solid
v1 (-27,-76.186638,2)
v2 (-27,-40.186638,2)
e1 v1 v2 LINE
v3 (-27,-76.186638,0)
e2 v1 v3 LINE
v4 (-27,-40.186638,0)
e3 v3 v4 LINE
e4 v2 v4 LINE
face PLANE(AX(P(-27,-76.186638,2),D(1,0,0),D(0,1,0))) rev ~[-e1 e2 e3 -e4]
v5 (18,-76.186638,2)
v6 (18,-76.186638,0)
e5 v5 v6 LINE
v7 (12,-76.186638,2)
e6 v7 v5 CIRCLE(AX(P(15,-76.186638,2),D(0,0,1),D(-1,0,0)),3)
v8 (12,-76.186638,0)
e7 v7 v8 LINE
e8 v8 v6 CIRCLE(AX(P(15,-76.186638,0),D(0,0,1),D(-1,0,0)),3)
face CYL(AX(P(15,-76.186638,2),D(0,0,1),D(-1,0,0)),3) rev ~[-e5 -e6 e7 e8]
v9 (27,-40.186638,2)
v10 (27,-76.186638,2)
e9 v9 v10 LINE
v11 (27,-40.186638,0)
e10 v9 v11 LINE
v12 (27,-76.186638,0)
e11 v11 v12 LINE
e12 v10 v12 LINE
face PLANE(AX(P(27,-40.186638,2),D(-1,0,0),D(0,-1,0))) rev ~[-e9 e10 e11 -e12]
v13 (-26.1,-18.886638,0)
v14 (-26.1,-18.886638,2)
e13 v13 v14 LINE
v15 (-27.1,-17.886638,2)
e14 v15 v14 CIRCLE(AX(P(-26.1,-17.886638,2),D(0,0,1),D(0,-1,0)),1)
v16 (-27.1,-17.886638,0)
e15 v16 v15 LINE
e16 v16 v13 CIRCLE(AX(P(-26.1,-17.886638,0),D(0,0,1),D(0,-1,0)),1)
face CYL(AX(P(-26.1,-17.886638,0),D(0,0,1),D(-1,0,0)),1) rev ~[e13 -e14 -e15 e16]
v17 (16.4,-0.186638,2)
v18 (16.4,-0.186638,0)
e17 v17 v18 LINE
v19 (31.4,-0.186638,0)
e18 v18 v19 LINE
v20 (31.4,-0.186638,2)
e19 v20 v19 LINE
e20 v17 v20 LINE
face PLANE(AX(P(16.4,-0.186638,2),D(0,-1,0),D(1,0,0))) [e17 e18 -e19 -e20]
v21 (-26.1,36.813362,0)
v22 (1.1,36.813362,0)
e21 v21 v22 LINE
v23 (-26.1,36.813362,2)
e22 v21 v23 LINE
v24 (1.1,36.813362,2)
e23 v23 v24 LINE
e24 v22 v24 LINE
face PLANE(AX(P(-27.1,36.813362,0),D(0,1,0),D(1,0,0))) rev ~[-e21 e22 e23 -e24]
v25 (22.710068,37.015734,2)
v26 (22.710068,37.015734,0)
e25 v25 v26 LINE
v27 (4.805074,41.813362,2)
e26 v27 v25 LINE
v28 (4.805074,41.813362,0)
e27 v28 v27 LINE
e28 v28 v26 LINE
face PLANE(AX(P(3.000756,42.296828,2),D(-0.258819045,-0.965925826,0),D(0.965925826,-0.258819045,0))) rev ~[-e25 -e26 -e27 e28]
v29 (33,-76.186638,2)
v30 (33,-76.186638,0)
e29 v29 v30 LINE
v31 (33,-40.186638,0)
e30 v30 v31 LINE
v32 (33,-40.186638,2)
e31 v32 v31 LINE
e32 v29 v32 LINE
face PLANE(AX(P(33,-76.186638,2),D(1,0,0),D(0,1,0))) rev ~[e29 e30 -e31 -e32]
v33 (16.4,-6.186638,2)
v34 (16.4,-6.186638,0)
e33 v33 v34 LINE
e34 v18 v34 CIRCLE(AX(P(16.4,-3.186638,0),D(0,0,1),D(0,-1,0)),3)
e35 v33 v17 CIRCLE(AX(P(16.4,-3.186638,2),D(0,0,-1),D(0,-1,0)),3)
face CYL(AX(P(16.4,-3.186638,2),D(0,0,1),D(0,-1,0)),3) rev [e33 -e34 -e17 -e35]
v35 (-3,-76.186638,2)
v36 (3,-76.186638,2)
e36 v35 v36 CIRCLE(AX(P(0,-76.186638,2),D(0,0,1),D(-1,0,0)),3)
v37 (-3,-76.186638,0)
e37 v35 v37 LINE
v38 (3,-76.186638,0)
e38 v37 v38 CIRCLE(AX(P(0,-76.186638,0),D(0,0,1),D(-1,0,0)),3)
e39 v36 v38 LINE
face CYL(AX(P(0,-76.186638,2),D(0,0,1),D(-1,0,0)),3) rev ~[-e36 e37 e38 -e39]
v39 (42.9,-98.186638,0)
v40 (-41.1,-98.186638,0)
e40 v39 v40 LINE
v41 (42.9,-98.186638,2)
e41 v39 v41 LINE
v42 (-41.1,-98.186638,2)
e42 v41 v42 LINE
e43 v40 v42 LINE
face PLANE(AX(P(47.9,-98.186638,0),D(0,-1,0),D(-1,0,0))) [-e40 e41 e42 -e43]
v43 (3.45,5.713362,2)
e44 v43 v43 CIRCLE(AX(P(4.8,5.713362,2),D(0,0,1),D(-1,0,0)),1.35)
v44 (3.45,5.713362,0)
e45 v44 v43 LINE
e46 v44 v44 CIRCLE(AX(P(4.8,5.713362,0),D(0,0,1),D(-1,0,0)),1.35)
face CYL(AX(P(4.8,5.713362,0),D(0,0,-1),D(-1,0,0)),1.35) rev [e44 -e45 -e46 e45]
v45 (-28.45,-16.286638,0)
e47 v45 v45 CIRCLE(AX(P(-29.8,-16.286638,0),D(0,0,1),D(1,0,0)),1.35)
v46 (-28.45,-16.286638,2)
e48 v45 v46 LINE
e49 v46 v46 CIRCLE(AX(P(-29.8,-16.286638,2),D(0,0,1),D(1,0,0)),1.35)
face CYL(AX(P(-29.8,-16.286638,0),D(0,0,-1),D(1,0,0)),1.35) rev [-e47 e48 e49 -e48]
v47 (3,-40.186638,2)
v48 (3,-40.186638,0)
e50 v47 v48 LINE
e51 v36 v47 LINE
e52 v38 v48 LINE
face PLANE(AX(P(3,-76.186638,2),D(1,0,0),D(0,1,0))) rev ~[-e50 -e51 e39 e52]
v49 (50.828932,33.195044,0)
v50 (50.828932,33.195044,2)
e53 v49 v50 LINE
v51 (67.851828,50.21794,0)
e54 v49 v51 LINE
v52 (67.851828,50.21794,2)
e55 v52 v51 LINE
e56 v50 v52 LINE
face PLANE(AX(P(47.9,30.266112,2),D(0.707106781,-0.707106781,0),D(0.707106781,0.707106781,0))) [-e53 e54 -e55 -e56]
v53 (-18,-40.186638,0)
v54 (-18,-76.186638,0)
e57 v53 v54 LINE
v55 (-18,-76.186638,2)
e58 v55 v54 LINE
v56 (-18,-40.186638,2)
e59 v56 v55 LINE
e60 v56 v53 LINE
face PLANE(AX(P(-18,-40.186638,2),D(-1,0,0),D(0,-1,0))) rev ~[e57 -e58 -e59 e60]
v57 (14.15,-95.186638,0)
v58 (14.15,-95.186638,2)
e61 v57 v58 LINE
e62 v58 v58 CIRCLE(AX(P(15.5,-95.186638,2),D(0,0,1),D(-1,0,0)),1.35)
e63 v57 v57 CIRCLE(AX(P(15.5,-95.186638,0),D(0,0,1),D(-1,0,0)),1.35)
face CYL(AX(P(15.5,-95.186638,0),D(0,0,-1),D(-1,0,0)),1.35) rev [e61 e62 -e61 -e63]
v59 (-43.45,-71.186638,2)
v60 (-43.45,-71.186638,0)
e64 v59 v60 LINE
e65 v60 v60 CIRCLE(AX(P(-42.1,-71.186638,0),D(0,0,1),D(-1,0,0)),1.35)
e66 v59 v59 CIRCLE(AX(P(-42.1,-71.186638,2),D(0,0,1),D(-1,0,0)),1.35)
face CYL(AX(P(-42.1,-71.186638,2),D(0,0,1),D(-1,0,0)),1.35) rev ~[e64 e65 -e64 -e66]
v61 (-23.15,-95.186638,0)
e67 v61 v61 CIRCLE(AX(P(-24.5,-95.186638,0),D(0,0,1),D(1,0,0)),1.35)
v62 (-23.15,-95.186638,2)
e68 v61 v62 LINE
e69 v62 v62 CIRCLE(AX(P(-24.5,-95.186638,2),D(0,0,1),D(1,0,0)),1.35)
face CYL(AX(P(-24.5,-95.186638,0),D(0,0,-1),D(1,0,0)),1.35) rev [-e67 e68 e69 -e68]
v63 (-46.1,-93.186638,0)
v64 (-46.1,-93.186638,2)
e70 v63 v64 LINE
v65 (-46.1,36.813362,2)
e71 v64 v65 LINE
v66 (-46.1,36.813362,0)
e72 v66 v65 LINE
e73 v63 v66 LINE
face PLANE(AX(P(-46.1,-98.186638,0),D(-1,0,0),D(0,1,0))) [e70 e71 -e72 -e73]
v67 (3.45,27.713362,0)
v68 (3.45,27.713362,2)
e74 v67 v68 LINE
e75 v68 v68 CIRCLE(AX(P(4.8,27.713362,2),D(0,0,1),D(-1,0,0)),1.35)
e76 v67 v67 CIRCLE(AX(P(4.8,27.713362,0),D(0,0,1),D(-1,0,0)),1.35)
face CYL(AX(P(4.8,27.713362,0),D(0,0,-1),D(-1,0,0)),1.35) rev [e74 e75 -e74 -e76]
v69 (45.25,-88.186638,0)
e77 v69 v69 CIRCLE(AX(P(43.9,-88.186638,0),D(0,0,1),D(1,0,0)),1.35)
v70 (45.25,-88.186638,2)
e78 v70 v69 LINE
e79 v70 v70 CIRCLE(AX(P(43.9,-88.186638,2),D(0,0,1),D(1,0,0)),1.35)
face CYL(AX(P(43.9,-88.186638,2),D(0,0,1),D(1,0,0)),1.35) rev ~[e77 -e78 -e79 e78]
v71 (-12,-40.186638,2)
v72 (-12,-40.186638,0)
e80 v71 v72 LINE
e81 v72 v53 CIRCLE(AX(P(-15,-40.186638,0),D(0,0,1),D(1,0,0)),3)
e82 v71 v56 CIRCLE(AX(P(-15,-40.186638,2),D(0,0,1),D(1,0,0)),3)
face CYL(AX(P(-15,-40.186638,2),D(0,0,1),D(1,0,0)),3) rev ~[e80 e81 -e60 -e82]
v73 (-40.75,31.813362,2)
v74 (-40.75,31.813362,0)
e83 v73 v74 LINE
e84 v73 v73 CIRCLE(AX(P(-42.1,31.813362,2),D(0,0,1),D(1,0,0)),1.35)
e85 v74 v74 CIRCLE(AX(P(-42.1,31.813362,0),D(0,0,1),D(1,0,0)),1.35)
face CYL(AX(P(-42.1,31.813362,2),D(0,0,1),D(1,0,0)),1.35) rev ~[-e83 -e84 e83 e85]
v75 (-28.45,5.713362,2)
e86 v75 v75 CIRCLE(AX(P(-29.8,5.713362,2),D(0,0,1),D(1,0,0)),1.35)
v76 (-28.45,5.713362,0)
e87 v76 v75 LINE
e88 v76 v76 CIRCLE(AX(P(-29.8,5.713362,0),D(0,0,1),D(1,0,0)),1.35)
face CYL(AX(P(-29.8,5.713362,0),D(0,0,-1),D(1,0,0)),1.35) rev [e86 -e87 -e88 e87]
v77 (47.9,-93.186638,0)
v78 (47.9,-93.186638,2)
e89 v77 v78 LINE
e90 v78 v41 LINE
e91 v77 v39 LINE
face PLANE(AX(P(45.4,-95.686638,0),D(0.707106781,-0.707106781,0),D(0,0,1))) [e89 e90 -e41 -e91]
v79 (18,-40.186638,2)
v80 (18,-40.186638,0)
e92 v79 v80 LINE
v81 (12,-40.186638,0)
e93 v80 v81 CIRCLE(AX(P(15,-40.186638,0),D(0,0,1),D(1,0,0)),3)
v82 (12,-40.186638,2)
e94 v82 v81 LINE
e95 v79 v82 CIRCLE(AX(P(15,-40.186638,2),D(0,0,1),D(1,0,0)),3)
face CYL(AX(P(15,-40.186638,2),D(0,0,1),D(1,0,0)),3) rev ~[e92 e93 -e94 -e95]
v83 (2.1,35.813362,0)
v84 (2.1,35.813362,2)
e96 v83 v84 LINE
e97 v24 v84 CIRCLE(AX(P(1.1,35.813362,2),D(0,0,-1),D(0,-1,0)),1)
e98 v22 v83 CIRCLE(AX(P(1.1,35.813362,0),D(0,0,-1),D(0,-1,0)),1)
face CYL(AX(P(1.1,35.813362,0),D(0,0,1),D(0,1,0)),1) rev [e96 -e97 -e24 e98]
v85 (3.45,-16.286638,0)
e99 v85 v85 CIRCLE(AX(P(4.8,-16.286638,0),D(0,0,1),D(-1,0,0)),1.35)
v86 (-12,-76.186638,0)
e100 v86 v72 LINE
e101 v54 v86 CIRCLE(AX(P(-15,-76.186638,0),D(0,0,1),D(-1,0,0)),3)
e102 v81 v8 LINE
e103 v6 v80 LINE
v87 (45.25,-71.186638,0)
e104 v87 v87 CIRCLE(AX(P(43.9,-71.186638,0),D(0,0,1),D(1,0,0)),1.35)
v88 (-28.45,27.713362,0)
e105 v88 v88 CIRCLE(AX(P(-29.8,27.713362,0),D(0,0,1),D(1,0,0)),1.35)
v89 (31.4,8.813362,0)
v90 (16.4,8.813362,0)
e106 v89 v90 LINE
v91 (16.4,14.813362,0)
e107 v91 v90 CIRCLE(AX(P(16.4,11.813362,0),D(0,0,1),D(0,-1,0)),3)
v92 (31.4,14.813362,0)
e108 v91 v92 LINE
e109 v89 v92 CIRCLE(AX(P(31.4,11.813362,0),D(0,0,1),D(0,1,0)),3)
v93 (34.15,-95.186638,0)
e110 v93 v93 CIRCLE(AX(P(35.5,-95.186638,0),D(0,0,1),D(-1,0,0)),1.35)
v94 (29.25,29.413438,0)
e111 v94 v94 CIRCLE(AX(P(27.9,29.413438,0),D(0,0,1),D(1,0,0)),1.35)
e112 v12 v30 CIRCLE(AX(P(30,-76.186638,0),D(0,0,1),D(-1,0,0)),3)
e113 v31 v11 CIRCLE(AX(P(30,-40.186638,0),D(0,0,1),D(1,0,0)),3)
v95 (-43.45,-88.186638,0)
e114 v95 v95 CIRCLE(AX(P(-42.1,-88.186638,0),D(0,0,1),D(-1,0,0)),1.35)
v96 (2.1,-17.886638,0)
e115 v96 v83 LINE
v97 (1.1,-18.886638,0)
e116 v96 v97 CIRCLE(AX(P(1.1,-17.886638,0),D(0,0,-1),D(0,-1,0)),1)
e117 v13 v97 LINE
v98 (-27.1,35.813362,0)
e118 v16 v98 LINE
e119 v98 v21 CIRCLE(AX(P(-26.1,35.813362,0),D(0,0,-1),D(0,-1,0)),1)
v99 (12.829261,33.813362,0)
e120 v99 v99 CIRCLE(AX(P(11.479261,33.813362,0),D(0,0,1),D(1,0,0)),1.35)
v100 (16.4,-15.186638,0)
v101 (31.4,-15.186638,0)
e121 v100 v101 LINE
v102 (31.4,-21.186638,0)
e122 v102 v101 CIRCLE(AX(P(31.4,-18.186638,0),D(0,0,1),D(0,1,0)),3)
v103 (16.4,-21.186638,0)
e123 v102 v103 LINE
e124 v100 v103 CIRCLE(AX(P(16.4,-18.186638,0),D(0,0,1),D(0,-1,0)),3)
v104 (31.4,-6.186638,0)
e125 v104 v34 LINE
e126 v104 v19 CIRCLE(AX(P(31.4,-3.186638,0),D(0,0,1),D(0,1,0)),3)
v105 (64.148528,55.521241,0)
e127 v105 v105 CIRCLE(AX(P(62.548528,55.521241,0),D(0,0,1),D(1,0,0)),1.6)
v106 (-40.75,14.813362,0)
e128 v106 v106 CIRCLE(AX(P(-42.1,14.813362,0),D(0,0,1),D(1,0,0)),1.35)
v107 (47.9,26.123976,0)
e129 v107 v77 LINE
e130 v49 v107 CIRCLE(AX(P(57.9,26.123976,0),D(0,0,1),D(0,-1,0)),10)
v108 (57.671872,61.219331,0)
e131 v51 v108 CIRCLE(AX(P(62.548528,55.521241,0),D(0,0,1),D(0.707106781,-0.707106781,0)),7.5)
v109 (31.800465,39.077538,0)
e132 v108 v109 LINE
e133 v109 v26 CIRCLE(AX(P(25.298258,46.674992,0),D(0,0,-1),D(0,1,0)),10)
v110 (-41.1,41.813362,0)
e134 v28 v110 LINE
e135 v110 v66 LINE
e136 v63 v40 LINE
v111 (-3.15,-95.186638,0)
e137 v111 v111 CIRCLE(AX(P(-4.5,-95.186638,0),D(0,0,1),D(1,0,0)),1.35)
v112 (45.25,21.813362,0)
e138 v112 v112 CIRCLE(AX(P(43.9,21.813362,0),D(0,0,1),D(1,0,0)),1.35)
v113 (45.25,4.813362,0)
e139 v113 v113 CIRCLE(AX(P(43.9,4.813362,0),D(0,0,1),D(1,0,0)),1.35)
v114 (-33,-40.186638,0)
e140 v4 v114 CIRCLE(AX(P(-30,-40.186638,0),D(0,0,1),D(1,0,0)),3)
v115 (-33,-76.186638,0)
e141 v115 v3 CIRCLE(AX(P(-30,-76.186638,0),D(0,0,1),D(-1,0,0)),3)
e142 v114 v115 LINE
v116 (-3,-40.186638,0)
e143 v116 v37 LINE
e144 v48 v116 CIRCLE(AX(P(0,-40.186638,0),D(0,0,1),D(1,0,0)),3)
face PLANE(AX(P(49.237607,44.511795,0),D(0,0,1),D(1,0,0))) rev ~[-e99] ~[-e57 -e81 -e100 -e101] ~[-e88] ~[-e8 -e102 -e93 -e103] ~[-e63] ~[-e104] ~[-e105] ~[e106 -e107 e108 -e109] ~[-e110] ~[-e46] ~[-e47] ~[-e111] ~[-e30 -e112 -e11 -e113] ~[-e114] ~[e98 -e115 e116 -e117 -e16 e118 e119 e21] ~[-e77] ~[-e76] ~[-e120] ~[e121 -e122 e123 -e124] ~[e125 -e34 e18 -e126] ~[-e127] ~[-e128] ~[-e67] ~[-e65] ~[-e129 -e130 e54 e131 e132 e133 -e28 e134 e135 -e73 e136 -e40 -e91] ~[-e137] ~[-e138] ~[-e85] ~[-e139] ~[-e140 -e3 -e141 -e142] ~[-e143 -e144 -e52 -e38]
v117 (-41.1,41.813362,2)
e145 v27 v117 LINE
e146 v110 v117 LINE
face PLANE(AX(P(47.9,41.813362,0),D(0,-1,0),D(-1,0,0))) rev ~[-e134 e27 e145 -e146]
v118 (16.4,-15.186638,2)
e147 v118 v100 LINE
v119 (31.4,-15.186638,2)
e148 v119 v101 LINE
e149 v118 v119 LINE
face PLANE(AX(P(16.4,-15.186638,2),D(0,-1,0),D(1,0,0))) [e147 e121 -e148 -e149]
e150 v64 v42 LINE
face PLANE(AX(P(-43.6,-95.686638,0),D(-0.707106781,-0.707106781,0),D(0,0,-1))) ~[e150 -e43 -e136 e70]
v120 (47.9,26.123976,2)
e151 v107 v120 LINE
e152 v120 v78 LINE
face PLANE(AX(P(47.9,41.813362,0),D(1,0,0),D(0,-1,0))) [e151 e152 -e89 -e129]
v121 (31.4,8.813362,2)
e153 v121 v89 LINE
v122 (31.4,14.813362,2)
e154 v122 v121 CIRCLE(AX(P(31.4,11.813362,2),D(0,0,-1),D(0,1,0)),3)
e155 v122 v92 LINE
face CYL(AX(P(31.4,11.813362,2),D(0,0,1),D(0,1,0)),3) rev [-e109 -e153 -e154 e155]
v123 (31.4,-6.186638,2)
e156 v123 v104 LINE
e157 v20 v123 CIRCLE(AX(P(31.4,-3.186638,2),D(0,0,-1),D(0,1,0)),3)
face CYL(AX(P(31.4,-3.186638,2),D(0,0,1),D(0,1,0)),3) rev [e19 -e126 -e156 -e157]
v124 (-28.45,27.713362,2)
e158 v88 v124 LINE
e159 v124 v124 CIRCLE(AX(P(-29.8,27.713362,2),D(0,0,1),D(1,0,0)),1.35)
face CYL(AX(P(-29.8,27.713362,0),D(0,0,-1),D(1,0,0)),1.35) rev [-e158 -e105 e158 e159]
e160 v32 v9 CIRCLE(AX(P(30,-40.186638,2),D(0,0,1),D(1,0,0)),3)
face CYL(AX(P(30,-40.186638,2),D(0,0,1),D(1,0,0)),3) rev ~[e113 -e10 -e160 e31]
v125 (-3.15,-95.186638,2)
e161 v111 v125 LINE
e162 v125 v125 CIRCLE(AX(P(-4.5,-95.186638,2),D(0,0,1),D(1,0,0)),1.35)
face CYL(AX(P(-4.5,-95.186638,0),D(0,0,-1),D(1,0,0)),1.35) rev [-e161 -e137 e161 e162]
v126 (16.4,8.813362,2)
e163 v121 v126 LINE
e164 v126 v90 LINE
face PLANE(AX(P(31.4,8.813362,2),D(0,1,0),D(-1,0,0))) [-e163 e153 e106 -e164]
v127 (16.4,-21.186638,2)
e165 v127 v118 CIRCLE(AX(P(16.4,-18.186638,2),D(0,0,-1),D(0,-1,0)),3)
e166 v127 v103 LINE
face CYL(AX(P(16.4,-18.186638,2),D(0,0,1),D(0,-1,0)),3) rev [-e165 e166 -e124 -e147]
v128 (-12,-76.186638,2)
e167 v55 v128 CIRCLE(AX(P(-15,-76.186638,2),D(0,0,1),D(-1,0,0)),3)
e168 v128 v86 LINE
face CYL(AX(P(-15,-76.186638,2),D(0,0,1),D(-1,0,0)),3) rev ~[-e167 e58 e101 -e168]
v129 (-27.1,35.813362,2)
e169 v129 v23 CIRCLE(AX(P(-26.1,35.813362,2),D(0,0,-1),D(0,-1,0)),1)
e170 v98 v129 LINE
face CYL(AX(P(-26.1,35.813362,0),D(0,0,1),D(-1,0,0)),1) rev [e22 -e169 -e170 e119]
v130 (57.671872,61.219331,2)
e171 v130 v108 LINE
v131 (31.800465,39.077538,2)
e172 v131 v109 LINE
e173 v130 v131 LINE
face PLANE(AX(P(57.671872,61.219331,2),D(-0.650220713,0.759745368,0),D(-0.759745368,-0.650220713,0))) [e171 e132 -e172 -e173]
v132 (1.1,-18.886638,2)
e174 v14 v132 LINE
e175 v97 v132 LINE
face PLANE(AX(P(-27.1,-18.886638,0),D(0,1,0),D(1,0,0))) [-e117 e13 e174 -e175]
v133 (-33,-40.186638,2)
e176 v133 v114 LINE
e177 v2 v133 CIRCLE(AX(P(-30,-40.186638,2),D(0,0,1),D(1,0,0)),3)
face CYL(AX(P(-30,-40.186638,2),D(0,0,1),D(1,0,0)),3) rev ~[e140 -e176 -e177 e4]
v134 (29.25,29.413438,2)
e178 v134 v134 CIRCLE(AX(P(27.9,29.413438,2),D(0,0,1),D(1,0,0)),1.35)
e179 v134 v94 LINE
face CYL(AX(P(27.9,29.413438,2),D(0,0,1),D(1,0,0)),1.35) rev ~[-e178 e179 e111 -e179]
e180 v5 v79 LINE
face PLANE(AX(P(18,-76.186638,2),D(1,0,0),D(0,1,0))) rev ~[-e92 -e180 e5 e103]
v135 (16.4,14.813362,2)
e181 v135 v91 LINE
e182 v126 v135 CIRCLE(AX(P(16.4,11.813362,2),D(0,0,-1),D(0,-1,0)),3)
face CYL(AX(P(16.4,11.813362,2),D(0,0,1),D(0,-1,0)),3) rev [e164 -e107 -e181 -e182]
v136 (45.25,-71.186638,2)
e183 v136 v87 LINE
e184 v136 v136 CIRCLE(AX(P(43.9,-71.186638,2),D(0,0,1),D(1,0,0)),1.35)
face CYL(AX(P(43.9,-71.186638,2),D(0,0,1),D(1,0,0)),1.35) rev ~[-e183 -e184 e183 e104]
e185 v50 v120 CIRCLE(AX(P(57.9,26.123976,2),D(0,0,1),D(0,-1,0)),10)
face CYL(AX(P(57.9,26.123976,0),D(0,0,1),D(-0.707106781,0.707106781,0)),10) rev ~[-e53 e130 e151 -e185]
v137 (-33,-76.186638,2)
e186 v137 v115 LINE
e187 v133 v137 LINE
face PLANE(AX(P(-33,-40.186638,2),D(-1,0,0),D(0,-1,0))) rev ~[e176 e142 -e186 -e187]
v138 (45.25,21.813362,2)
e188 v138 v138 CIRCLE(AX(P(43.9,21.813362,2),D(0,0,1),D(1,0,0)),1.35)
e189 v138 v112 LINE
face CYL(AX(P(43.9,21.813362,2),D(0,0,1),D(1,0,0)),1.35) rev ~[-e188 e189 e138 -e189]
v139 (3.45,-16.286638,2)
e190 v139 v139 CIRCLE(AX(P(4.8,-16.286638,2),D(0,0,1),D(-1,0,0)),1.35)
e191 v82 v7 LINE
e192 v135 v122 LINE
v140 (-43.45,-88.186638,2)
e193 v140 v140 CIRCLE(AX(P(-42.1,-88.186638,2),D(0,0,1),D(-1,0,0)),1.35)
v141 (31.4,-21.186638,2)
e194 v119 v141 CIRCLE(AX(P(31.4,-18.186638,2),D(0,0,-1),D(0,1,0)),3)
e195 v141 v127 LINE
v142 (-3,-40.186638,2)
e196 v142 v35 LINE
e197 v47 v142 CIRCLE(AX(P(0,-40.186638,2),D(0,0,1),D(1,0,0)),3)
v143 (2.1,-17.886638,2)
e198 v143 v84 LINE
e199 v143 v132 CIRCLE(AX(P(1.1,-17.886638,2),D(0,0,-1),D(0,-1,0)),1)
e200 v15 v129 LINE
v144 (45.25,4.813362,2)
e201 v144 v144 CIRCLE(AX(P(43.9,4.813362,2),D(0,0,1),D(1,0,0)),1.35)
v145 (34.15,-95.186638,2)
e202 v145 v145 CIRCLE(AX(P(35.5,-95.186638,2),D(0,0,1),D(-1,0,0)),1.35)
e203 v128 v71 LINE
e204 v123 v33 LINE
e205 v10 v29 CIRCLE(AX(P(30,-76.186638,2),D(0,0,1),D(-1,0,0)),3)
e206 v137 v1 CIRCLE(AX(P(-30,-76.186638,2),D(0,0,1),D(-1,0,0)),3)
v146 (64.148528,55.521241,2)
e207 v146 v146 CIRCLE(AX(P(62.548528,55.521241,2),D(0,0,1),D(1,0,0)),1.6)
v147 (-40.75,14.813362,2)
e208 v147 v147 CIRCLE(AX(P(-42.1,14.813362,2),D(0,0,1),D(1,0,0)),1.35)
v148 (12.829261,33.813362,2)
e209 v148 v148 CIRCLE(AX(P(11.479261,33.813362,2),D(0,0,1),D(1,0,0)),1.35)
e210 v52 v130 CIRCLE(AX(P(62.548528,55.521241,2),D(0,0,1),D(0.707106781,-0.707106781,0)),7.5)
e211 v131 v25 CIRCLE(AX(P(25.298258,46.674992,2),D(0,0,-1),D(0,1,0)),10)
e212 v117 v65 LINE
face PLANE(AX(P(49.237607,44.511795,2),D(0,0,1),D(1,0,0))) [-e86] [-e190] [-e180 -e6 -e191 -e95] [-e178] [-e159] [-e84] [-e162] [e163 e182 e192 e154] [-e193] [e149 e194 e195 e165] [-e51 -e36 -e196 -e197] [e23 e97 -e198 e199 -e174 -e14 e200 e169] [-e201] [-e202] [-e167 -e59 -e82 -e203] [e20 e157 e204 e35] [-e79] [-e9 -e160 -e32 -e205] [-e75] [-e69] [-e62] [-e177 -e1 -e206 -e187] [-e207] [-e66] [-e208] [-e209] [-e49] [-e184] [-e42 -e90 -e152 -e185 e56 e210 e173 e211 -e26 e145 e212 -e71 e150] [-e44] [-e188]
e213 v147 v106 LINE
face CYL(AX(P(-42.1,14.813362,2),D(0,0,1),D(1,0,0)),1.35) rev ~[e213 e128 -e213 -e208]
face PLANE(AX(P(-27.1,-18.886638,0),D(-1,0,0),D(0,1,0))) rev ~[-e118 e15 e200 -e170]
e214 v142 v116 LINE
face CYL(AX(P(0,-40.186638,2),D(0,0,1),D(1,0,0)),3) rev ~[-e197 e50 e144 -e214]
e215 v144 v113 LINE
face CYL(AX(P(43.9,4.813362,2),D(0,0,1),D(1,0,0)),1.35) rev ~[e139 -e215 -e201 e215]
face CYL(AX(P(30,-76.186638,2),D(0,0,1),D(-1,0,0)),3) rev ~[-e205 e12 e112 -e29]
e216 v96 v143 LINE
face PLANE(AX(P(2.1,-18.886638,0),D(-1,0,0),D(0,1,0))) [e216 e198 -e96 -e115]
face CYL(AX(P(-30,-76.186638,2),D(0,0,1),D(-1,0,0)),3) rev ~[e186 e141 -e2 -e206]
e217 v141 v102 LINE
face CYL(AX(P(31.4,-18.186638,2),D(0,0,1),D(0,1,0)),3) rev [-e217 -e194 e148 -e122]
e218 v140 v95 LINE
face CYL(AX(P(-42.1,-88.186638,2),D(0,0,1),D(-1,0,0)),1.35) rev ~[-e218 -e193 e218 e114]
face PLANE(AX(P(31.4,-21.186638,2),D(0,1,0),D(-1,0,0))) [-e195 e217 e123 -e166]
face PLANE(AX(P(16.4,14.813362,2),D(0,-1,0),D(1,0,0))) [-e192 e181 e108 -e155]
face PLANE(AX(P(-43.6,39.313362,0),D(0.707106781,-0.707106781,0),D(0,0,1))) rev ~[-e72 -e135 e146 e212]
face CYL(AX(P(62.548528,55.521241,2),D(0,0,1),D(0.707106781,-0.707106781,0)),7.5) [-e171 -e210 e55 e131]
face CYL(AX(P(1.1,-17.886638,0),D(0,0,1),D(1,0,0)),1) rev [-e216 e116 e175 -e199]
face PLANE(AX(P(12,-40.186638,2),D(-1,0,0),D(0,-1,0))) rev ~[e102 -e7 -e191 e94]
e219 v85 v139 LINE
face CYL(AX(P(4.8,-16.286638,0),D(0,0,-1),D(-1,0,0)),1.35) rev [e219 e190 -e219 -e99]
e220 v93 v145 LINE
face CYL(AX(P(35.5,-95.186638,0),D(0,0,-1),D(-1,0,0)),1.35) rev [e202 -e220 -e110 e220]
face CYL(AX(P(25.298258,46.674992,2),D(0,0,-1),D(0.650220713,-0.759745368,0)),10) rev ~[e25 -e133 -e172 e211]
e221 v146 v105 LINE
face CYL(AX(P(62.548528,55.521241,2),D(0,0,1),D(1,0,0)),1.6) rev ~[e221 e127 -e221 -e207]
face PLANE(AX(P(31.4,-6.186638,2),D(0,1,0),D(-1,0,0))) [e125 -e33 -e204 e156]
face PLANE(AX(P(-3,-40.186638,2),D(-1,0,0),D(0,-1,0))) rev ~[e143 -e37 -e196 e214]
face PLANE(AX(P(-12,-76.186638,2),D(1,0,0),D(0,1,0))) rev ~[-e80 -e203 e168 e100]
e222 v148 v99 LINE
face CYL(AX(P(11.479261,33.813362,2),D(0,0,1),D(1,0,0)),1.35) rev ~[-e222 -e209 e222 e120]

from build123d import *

# Parameters (mm, degrees)
SKETCH_1_R          = 1.35
SKETCH_1_W          = 29.2
SKETCH_1_H          = 55.7
EXTRUDE_1_DEPTH     = 2
FILLET_1_R          = 1
CUT_EXTRUDE_2_REACH = 111.266
SKETCH_2_R          = 1.35
CUT_EXTRUDE_3_REACH = 111.266
CHAMFER_1_SIZE      = 5
CUT_EXTRUDE_4_REACH = 111.266
SKETCH_4_R          = 1.35
SKETCH_5_R          = 1.6
EXTRUDE_2_DEPTH     = 2
FILLET_3_R          = 10


with BuildPart() as part:
    # 草图1 → 凸台-拉伸1 (new body)
    with BuildSketch(Plane.XY):
        Polygon((-46.1, 41.813362069), (7.9, 41.813362069), (47.9, 41.813362069), (47.9, -98.186637931), (-46.1, -98.186637931), align=None)
        with Locations((-4.5, -95.186637931)):
            Circle(SKETCH_1_R, mode=Mode.SUBTRACT)
        with Locations((-24.5, -95.186637931)):
            Circle(SKETCH_1_R, mode=Mode.SUBTRACT)
        with Locations(Location((35.5, -95.186637931, 0), (0, 0, 180))):
            Circle(SKETCH_1_R, mode=Mode.SUBTRACT)
        with Locations((-29.8, 5.713362069)):
            Circle(SKETCH_1_R, mode=Mode.SUBTRACT)
        with Locations((-29.8, -16.286637931)):
            Circle(SKETCH_1_R, mode=Mode.SUBTRACT)
        with Locations(Location((4.8, -16.286637931, 0), (0, 0, 180))):
            Circle(SKETCH_1_R, mode=Mode.SUBTRACT)
        with Locations(Location((4.8, 5.713362069, 0), (0, 0, 180))):
            Circle(SKETCH_1_R, mode=Mode.SUBTRACT)
        with Locations(Location((4.8, 27.713362069, 0), (0, 0, 180))):
            Circle(SKETCH_1_R, mode=Mode.SUBTRACT)
        with Locations((-29.8, 27.713362069)):
            Circle(SKETCH_1_R, mode=Mode.SUBTRACT)
        with Locations(Location((15.5, -95.186637931, 0), (0, 0, 180))):
            Circle(SKETCH_1_R, mode=Mode.SUBTRACT)
        with Locations((-12.5, 8.963362069)):
            Rectangle(SKETCH_1_W, SKETCH_1_H, mode=Mode.SUBTRACT)
    extrude(amount=EXTRUDE_1_DEPTH)

    # 圆角1
    fillet_1_edges = [part.edges().sort_by_distance(p)[0] for p in [
        (-27.1, 36.813362069, 1),
        (-27.1, -18.886637931, 1),
        (2.1, -18.886637931, 1),
        (2.1, 36.813362069, 1),
    ]]
    fillet(fillet_1_edges, radius=FILLET_1_R)

    # 草图2 → 切除-拉伸2 (cut, up to next)
    with BuildSketch(Plane.XY.offset(2), mode=Mode.PRIVATE) as cut_extrude_2_sk1:
        with Locations((-42.1, 31.813362069)):
            Circle(SKETCH_2_R)
    cut_extrude_2_tool1 = extrude(cut_extrude_2_sk1.sketch, amount=-CUT_EXTRUDE_2_REACH, mode=Mode.PRIVATE) & part.part
    # 草图2 → 切除-拉伸2 (cut, up to next)
    with BuildSketch(Plane.XY.offset(2), mode=Mode.PRIVATE) as cut_extrude_2_sk2:
        with Locations((-42.1, 14.813362069)):
            Circle(SKETCH_2_R)
    cut_extrude_2_tool2 = extrude(cut_extrude_2_sk2.sketch, amount=-CUT_EXTRUDE_2_REACH, mode=Mode.PRIVATE) & part.part
    # 草图2 → 切除-拉伸2 (cut, up to next)
    with BuildSketch(Plane.XY.offset(2), mode=Mode.PRIVATE) as cut_extrude_2_sk3:
        with Locations(Location((-42.1, -71.186637931, 0), (0, 0, 180))):
            Circle(SKETCH_2_R)
    cut_extrude_2_tool3 = extrude(cut_extrude_2_sk3.sketch, amount=-CUT_EXTRUDE_2_REACH, mode=Mode.PRIVATE) & part.part
    # 草图2 → 切除-拉伸2 (cut, up to next)
    with BuildSketch(Plane.XY.offset(2), mode=Mode.PRIVATE) as cut_extrude_2_sk4:
        with Locations(Location((-42.1, -88.186637931, 0), (0, 0, 180))):
            Circle(SKETCH_2_R)
    cut_extrude_2_tool4 = extrude(cut_extrude_2_sk4.sketch, amount=-CUT_EXTRUDE_2_REACH, mode=Mode.PRIVATE) & part.part
    # 草图2 → 切除-拉伸2 (cut, up to next)
    with BuildSketch(Plane.XY.offset(2), mode=Mode.PRIVATE) as cut_extrude_2_sk5:
        with Locations((43.9, -88.186637931)):
            Circle(SKETCH_2_R)
    cut_extrude_2_tool5 = extrude(cut_extrude_2_sk5.sketch, amount=-CUT_EXTRUDE_2_REACH, mode=Mode.PRIVATE) & part.part
    # 草图2 → 切除-拉伸2 (cut, up to next)
    with BuildSketch(Plane.XY.offset(2), mode=Mode.PRIVATE) as cut_extrude_2_sk6:
        with Locations((43.9, -71.186637931)):
            Circle(SKETCH_2_R)
    cut_extrude_2_tool6 = extrude(cut_extrude_2_sk6.sketch, amount=-CUT_EXTRUDE_2_REACH, mode=Mode.PRIVATE) & part.part
    # 草图2 → 切除-拉伸2 (cut, up to next)
    with BuildSketch(Plane.XY.offset(2), mode=Mode.PRIVATE) as cut_extrude_2_sk7:
        with Locations((43.9, 21.813362069)):
            Circle(SKETCH_2_R)
    cut_extrude_2_tool7 = extrude(cut_extrude_2_sk7.sketch, amount=-CUT_EXTRUDE_2_REACH, mode=Mode.PRIVATE) & part.part
    # 草图2 → 切除-拉伸2 (cut, up to next)
    with BuildSketch(Plane.XY.offset(2), mode=Mode.PRIVATE) as cut_extrude_2_sk8:
        with Locations((43.9, 4.813362069)):
            Circle(SKETCH_2_R)
    cut_extrude_2_tool8 = extrude(cut_extrude_2_sk8.sketch, amount=-CUT_EXTRUDE_2_REACH, mode=Mode.PRIVATE) & part.part
    add(cut_extrude_2_tool1.solids().sort_by_distance((-42.1, 31.813362, 2))[0], mode=Mode.SUBTRACT)
    add(cut_extrude_2_tool2.solids().sort_by_distance((-42.1, 14.813362, 2))[0], mode=Mode.SUBTRACT)
    add(cut_extrude_2_tool3.solids().sort_by_distance((-42.1, -71.186638, 2))[0], mode=Mode.SUBTRACT)
    add(cut_extrude_2_tool4.solids().sort_by_distance((-42.1, -88.186638, 2))[0], mode=Mode.SUBTRACT)
    add(cut_extrude_2_tool5.solids().sort_by_distance((43.9, -88.186638, 2))[0], mode=Mode.SUBTRACT)
    add(cut_extrude_2_tool6.solids().sort_by_distance((43.9, -71.186638, 2))[0], mode=Mode.SUBTRACT)
    add(cut_extrude_2_tool7.solids().sort_by_distance((43.9, 21.813362, 2))[0], mode=Mode.SUBTRACT)
    add(cut_extrude_2_tool8.solids().sort_by_distance((43.9, 4.813362, 2))[0], mode=Mode.SUBTRACT)

    # 草图3 → 切除-拉伸3 (cut, up to next)
    with BuildSketch(Plane.XY.offset(2), mode=Mode.PRIVATE) as cut_extrude_3_sk1:
        with BuildLine():
            Line((-3, -40.186637931), (-3, -76.186637931))
            ThreePointArc((-3, -76.186637931), (0, -79.186637931), (3, -76.186637931))
            Line((3, -76.186637931), (3, -40.186637931))
            ThreePointArc((3, -40.186637931), (0, -37.186637931), (-3, -40.186637931))
        make_face()
    cut_extrude_3_tool1 = extrude(cut_extrude_3_sk1.sketch, amount=-CUT_EXTRUDE_3_REACH, mode=Mode.PRIVATE) & part.part
    # 草图3 → 切除-拉伸3 (cut, up to next)
    with BuildSketch(Plane.XY.offset(2), mode=Mode.PRIVATE) as cut_extrude_3_sk2:
        with BuildLine():
            Line((12, -40.186637931), (12, -76.186637931))
            ThreePointArc((12, -76.186637931), (15, -79.186637931), (18, -76.186637931))
            Line((18, -76.186637931), (18, -40.186637931))
            ThreePointArc((18, -40.186637931), (15, -37.186637931), (12, -40.186637931))
        make_face()
    cut_extrude_3_tool2 = extrude(cut_extrude_3_sk2.sketch, amount=-CUT_EXTRUDE_3_REACH, mode=Mode.PRIVATE) & part.part
    # 草图3 → 切除-拉伸3 (cut, up to next)
    with BuildSketch(Plane.XY.offset(2), mode=Mode.PRIVATE) as cut_extrude_3_sk3:
        with BuildLine():
            Line((27, -40.186637931), (27, -76.186637931))
            ThreePointArc((27, -76.186637931), (30, -79.186637931), (33, -76.186637931))
            Line((33, -76.186637931), (33, -40.186637931))
            ThreePointArc((33, -40.186637931), (30, -37.186637931), (27, -40.186637931))
        make_face()
    cut_extrude_3_tool3 = extrude(cut_extrude_3_sk3.sketch, amount=-CUT_EXTRUDE_3_REACH, mode=Mode.PRIVATE) & part.part
    # 草图3 → 切除-拉伸3 (cut, up to next)
    with BuildSketch(Plane.XY.offset(2), mode=Mode.PRIVATE) as cut_extrude_3_sk4:
        with BuildLine():
            Line((-18, -40.186637931), (-18, -76.186637931))
            ThreePointArc((-18, -76.186637931), (-15, -79.186637931), (-12, -76.186637931))
            Line((-12, -76.186637931), (-12, -40.186637931))
            ThreePointArc((-12, -40.186637931), (-15, -37.186637931), (-18, -40.186637931))
        make_face()
    cut_extrude_3_tool4 = extrude(cut_extrude_3_sk4.sketch, amount=-CUT_EXTRUDE_3_REACH, mode=Mode.PRIVATE) & part.part
    # 草图3 → 切除-拉伸3 (cut, up to next)
    with BuildSketch(Plane.XY.offset(2), mode=Mode.PRIVATE) as cut_extrude_3_sk5:
        with BuildLine():
            Line((-33, -40.186637931), (-33, -76.186637931))
            ThreePointArc((-33, -76.186637931), (-30, -79.186637931), (-27, -76.186637931))
            Line((-27, -76.186637931), (-27, -40.186637931))
            ThreePointArc((-27, -40.186637931), (-30, -37.186637931), (-33, -40.186637931))
        make_face()
    cut_extrude_3_tool5 = extrude(cut_extrude_3_sk5.sketch, amount=-CUT_EXTRUDE_3_REACH, mode=Mode.PRIVATE) & part.part
    # 草图3 → 切除-拉伸3 (cut, up to next)
    with BuildSketch(Plane.XY.offset(2), mode=Mode.PRIVATE) as cut_extrude_3_sk6:
        with BuildLine():
            Line((16.4, -15.186637931), (31.4, -15.186637931))
            ThreePointArc((31.4, -15.186637931), (34.4, -18.186637931), (31.4, -21.186637931))
            Line((31.4, -21.186637931), (16.4, -21.186637931))
            ThreePointArc((16.4, -21.186637931), (13.4, -18.186637931), (16.4, -15.186637931))
        make_face()
    cut_extrude_3_tool6 = extrude(cut_extrude_3_sk6.sketch, amount=-CUT_EXTRUDE_3_REACH, mode=Mode.PRIVATE) & part.part
    # 草图3 → 切除-拉伸3 (cut, up to next)
    with BuildSketch(Plane.XY.offset(2), mode=Mode.PRIVATE) as cut_extrude_3_sk7:
        with BuildLine():
            Line((16.4, -0.186637931), (31.4, -0.186637931))
            ThreePointArc((31.4, -0.186637931), (34.4, -3.186637931), (31.4, -6.186637931))
            Line((31.4, -6.186637931), (16.4, -6.186637931))
            ThreePointArc((16.4, -6.186637931), (13.4, -3.186637931), (16.4, -0.186637931))
        make_face()
    cut_extrude_3_tool7 = extrude(cut_extrude_3_sk7.sketch, amount=-CUT_EXTRUDE_3_REACH, mode=Mode.PRIVATE) & part.part
    # 草图3 → 切除-拉伸3 (cut, up to next)
    with BuildSketch(Plane.XY.offset(2), mode=Mode.PRIVATE) as cut_extrude_3_sk8:
        with BuildLine():
            Line((16.4, 14.813362069), (31.4, 14.813362069))
            ThreePointArc((31.4, 14.813362069), (34.4, 11.813362069), (31.4, 8.813362069))
            Line((31.4, 8.813362069), (16.4, 8.813362069))
            ThreePointArc((16.4, 8.813362069), (13.4, 11.813362069), (16.4, 14.813362069))
        make_face()
    cut_extrude_3_tool8 = extrude(cut_extrude_3_sk8.sketch, amount=-CUT_EXTRUDE_3_REACH, mode=Mode.PRIVATE) & part.part
    add(cut_extrude_3_tool1.solids().sort_by_distance((0, -58.186638, 2))[0], mode=Mode.SUBTRACT)
    add(cut_extrude_3_tool2.solids().sort_by_distance((15, -58.186638, 2))[0], mode=Mode.SUBTRACT)
    add(cut_extrude_3_tool3.solids().sort_by_distance((30, -58.186638, 2))[0], mode=Mode.SUBTRACT)
    add(cut_extrude_3_tool4.solids().sort_by_distance((-15, -58.186638, 2))[0], mode=Mode.SUBTRACT)
    add(cut_extrude_3_tool5.solids().sort_by_distance((-30, -58.186638, 2))[0], mode=Mode.SUBTRACT)
    add(cut_extrude_3_tool6.solids().sort_by_distance((23.9, -18.186638, 2))[0], mode=Mode.SUBTRACT)
    add(cut_extrude_3_tool7.solids().sort_by_distance((23.9, -3.186638, 2))[0], mode=Mode.SUBTRACT)
    add(cut_extrude_3_tool8.solids().sort_by_distance((23.9, 11.813362, 2))[0], mode=Mode.SUBTRACT)

    # 倒角1
    chamfer_1_edges = [part.edges().sort_by_distance(p)[0] for p in [
        (-46.1, -98.186637931, 1),
        (-46.1, 41.813362069, 1),
        (47.9, -98.186637931, 1),
    ]]
    chamfer(chamfer_1_edges, length=CHAMFER_1_SIZE)

    # 草图4 → 切除-拉伸4 (cut, up to next)
    with BuildSketch(Plane.XY.offset(2), mode=Mode.PRIVATE) as cut_extrude_4_sk1:
        with Locations((11.479260953, 33.813362069)):
            Circle(SKETCH_4_R)
    cut_extrude_4_tool1 = extrude(cut_extrude_4_sk1.sketch, amount=-CUT_EXTRUDE_4_REACH, mode=Mode.PRIVATE) & part.part
    # 草图4 → 切除-拉伸4 (cut, up to next)
    with BuildSketch(Plane.XY.offset(2), mode=Mode.PRIVATE) as cut_extrude_4_sk2:
        with Locations((27.9, 29.413438302)):
            Circle(SKETCH_4_R)
    cut_extrude_4_tool2 = extrude(cut_extrude_4_sk2.sketch, amount=-CUT_EXTRUDE_4_REACH, mode=Mode.PRIVATE) & part.part
    # 草图4 → 切除-拉伸4 (cut, up to next)
    with BuildSketch(Plane.XY.offset(2), mode=Mode.PRIVATE) as cut_extrude_4_sk3:
        Polygon((3.000756209, 42.296827651), (53.432967786, 28.783557286), (46.405100875, 52.816513179), align=None)
    cut_extrude_4_tool3 = extrude(cut_extrude_4_sk3.sketch, amount=-CUT_EXTRUDE_4_REACH, mode=Mode.PRIVATE) & part.part
    add(cut_extrude_4_tool1.solids().sort_by_distance((11.479261, 33.813362, 2))[0], mode=Mode.SUBTRACT)
    add(cut_extrude_4_tool2.solids().sort_by_distance((27.9, 29.413438, 2))[0], mode=Mode.SUBTRACT)
    add(cut_extrude_4_tool3.solids().sort_by_distance((34.279608, 41.298966, 2))[0], mode=Mode.SUBTRACT)

    # 草图5 → 凸台-拉伸2 (add)
    with BuildSketch(Plane.XY.offset(2)):
        with BuildLine():
            Line((47.9, 30.266111536), (67.851828366, 50.217939902))
            ThreePointArc((67.851828366, 50.217939902), (68.053357953, 60.615045013), (57.67187216, 61.219331022))
            Line((57.67187216, 61.219331022), (27.798319678, 35.652340545))
            Line((27.798319678, 35.652340545), (25.855389408, 33.004755671))
            Line((25.855389408, 33.004755671), (41.831287437, 29.328293781))
            Line((41.831287437, 29.328293781), (47.9, 30.266111536))
        make_face()
        with Locations((62.548527507, 55.521240761)):
            Circle(SKETCH_5_R, mode=Mode.SUBTRACT)
    extrude(amount=-EXTRUDE_2_DEPTH)

    # 圆角3
    fillet_3_edges = [part.edges().sort_by_distance(p)[0] for p in [
        (47.9, 30.266111536, 1),
        (27.798319678, 35.652340545, 1),
    ]]
    fillet(fillet_3_edges, radius=FILLET_3_R)


solid = part.part
